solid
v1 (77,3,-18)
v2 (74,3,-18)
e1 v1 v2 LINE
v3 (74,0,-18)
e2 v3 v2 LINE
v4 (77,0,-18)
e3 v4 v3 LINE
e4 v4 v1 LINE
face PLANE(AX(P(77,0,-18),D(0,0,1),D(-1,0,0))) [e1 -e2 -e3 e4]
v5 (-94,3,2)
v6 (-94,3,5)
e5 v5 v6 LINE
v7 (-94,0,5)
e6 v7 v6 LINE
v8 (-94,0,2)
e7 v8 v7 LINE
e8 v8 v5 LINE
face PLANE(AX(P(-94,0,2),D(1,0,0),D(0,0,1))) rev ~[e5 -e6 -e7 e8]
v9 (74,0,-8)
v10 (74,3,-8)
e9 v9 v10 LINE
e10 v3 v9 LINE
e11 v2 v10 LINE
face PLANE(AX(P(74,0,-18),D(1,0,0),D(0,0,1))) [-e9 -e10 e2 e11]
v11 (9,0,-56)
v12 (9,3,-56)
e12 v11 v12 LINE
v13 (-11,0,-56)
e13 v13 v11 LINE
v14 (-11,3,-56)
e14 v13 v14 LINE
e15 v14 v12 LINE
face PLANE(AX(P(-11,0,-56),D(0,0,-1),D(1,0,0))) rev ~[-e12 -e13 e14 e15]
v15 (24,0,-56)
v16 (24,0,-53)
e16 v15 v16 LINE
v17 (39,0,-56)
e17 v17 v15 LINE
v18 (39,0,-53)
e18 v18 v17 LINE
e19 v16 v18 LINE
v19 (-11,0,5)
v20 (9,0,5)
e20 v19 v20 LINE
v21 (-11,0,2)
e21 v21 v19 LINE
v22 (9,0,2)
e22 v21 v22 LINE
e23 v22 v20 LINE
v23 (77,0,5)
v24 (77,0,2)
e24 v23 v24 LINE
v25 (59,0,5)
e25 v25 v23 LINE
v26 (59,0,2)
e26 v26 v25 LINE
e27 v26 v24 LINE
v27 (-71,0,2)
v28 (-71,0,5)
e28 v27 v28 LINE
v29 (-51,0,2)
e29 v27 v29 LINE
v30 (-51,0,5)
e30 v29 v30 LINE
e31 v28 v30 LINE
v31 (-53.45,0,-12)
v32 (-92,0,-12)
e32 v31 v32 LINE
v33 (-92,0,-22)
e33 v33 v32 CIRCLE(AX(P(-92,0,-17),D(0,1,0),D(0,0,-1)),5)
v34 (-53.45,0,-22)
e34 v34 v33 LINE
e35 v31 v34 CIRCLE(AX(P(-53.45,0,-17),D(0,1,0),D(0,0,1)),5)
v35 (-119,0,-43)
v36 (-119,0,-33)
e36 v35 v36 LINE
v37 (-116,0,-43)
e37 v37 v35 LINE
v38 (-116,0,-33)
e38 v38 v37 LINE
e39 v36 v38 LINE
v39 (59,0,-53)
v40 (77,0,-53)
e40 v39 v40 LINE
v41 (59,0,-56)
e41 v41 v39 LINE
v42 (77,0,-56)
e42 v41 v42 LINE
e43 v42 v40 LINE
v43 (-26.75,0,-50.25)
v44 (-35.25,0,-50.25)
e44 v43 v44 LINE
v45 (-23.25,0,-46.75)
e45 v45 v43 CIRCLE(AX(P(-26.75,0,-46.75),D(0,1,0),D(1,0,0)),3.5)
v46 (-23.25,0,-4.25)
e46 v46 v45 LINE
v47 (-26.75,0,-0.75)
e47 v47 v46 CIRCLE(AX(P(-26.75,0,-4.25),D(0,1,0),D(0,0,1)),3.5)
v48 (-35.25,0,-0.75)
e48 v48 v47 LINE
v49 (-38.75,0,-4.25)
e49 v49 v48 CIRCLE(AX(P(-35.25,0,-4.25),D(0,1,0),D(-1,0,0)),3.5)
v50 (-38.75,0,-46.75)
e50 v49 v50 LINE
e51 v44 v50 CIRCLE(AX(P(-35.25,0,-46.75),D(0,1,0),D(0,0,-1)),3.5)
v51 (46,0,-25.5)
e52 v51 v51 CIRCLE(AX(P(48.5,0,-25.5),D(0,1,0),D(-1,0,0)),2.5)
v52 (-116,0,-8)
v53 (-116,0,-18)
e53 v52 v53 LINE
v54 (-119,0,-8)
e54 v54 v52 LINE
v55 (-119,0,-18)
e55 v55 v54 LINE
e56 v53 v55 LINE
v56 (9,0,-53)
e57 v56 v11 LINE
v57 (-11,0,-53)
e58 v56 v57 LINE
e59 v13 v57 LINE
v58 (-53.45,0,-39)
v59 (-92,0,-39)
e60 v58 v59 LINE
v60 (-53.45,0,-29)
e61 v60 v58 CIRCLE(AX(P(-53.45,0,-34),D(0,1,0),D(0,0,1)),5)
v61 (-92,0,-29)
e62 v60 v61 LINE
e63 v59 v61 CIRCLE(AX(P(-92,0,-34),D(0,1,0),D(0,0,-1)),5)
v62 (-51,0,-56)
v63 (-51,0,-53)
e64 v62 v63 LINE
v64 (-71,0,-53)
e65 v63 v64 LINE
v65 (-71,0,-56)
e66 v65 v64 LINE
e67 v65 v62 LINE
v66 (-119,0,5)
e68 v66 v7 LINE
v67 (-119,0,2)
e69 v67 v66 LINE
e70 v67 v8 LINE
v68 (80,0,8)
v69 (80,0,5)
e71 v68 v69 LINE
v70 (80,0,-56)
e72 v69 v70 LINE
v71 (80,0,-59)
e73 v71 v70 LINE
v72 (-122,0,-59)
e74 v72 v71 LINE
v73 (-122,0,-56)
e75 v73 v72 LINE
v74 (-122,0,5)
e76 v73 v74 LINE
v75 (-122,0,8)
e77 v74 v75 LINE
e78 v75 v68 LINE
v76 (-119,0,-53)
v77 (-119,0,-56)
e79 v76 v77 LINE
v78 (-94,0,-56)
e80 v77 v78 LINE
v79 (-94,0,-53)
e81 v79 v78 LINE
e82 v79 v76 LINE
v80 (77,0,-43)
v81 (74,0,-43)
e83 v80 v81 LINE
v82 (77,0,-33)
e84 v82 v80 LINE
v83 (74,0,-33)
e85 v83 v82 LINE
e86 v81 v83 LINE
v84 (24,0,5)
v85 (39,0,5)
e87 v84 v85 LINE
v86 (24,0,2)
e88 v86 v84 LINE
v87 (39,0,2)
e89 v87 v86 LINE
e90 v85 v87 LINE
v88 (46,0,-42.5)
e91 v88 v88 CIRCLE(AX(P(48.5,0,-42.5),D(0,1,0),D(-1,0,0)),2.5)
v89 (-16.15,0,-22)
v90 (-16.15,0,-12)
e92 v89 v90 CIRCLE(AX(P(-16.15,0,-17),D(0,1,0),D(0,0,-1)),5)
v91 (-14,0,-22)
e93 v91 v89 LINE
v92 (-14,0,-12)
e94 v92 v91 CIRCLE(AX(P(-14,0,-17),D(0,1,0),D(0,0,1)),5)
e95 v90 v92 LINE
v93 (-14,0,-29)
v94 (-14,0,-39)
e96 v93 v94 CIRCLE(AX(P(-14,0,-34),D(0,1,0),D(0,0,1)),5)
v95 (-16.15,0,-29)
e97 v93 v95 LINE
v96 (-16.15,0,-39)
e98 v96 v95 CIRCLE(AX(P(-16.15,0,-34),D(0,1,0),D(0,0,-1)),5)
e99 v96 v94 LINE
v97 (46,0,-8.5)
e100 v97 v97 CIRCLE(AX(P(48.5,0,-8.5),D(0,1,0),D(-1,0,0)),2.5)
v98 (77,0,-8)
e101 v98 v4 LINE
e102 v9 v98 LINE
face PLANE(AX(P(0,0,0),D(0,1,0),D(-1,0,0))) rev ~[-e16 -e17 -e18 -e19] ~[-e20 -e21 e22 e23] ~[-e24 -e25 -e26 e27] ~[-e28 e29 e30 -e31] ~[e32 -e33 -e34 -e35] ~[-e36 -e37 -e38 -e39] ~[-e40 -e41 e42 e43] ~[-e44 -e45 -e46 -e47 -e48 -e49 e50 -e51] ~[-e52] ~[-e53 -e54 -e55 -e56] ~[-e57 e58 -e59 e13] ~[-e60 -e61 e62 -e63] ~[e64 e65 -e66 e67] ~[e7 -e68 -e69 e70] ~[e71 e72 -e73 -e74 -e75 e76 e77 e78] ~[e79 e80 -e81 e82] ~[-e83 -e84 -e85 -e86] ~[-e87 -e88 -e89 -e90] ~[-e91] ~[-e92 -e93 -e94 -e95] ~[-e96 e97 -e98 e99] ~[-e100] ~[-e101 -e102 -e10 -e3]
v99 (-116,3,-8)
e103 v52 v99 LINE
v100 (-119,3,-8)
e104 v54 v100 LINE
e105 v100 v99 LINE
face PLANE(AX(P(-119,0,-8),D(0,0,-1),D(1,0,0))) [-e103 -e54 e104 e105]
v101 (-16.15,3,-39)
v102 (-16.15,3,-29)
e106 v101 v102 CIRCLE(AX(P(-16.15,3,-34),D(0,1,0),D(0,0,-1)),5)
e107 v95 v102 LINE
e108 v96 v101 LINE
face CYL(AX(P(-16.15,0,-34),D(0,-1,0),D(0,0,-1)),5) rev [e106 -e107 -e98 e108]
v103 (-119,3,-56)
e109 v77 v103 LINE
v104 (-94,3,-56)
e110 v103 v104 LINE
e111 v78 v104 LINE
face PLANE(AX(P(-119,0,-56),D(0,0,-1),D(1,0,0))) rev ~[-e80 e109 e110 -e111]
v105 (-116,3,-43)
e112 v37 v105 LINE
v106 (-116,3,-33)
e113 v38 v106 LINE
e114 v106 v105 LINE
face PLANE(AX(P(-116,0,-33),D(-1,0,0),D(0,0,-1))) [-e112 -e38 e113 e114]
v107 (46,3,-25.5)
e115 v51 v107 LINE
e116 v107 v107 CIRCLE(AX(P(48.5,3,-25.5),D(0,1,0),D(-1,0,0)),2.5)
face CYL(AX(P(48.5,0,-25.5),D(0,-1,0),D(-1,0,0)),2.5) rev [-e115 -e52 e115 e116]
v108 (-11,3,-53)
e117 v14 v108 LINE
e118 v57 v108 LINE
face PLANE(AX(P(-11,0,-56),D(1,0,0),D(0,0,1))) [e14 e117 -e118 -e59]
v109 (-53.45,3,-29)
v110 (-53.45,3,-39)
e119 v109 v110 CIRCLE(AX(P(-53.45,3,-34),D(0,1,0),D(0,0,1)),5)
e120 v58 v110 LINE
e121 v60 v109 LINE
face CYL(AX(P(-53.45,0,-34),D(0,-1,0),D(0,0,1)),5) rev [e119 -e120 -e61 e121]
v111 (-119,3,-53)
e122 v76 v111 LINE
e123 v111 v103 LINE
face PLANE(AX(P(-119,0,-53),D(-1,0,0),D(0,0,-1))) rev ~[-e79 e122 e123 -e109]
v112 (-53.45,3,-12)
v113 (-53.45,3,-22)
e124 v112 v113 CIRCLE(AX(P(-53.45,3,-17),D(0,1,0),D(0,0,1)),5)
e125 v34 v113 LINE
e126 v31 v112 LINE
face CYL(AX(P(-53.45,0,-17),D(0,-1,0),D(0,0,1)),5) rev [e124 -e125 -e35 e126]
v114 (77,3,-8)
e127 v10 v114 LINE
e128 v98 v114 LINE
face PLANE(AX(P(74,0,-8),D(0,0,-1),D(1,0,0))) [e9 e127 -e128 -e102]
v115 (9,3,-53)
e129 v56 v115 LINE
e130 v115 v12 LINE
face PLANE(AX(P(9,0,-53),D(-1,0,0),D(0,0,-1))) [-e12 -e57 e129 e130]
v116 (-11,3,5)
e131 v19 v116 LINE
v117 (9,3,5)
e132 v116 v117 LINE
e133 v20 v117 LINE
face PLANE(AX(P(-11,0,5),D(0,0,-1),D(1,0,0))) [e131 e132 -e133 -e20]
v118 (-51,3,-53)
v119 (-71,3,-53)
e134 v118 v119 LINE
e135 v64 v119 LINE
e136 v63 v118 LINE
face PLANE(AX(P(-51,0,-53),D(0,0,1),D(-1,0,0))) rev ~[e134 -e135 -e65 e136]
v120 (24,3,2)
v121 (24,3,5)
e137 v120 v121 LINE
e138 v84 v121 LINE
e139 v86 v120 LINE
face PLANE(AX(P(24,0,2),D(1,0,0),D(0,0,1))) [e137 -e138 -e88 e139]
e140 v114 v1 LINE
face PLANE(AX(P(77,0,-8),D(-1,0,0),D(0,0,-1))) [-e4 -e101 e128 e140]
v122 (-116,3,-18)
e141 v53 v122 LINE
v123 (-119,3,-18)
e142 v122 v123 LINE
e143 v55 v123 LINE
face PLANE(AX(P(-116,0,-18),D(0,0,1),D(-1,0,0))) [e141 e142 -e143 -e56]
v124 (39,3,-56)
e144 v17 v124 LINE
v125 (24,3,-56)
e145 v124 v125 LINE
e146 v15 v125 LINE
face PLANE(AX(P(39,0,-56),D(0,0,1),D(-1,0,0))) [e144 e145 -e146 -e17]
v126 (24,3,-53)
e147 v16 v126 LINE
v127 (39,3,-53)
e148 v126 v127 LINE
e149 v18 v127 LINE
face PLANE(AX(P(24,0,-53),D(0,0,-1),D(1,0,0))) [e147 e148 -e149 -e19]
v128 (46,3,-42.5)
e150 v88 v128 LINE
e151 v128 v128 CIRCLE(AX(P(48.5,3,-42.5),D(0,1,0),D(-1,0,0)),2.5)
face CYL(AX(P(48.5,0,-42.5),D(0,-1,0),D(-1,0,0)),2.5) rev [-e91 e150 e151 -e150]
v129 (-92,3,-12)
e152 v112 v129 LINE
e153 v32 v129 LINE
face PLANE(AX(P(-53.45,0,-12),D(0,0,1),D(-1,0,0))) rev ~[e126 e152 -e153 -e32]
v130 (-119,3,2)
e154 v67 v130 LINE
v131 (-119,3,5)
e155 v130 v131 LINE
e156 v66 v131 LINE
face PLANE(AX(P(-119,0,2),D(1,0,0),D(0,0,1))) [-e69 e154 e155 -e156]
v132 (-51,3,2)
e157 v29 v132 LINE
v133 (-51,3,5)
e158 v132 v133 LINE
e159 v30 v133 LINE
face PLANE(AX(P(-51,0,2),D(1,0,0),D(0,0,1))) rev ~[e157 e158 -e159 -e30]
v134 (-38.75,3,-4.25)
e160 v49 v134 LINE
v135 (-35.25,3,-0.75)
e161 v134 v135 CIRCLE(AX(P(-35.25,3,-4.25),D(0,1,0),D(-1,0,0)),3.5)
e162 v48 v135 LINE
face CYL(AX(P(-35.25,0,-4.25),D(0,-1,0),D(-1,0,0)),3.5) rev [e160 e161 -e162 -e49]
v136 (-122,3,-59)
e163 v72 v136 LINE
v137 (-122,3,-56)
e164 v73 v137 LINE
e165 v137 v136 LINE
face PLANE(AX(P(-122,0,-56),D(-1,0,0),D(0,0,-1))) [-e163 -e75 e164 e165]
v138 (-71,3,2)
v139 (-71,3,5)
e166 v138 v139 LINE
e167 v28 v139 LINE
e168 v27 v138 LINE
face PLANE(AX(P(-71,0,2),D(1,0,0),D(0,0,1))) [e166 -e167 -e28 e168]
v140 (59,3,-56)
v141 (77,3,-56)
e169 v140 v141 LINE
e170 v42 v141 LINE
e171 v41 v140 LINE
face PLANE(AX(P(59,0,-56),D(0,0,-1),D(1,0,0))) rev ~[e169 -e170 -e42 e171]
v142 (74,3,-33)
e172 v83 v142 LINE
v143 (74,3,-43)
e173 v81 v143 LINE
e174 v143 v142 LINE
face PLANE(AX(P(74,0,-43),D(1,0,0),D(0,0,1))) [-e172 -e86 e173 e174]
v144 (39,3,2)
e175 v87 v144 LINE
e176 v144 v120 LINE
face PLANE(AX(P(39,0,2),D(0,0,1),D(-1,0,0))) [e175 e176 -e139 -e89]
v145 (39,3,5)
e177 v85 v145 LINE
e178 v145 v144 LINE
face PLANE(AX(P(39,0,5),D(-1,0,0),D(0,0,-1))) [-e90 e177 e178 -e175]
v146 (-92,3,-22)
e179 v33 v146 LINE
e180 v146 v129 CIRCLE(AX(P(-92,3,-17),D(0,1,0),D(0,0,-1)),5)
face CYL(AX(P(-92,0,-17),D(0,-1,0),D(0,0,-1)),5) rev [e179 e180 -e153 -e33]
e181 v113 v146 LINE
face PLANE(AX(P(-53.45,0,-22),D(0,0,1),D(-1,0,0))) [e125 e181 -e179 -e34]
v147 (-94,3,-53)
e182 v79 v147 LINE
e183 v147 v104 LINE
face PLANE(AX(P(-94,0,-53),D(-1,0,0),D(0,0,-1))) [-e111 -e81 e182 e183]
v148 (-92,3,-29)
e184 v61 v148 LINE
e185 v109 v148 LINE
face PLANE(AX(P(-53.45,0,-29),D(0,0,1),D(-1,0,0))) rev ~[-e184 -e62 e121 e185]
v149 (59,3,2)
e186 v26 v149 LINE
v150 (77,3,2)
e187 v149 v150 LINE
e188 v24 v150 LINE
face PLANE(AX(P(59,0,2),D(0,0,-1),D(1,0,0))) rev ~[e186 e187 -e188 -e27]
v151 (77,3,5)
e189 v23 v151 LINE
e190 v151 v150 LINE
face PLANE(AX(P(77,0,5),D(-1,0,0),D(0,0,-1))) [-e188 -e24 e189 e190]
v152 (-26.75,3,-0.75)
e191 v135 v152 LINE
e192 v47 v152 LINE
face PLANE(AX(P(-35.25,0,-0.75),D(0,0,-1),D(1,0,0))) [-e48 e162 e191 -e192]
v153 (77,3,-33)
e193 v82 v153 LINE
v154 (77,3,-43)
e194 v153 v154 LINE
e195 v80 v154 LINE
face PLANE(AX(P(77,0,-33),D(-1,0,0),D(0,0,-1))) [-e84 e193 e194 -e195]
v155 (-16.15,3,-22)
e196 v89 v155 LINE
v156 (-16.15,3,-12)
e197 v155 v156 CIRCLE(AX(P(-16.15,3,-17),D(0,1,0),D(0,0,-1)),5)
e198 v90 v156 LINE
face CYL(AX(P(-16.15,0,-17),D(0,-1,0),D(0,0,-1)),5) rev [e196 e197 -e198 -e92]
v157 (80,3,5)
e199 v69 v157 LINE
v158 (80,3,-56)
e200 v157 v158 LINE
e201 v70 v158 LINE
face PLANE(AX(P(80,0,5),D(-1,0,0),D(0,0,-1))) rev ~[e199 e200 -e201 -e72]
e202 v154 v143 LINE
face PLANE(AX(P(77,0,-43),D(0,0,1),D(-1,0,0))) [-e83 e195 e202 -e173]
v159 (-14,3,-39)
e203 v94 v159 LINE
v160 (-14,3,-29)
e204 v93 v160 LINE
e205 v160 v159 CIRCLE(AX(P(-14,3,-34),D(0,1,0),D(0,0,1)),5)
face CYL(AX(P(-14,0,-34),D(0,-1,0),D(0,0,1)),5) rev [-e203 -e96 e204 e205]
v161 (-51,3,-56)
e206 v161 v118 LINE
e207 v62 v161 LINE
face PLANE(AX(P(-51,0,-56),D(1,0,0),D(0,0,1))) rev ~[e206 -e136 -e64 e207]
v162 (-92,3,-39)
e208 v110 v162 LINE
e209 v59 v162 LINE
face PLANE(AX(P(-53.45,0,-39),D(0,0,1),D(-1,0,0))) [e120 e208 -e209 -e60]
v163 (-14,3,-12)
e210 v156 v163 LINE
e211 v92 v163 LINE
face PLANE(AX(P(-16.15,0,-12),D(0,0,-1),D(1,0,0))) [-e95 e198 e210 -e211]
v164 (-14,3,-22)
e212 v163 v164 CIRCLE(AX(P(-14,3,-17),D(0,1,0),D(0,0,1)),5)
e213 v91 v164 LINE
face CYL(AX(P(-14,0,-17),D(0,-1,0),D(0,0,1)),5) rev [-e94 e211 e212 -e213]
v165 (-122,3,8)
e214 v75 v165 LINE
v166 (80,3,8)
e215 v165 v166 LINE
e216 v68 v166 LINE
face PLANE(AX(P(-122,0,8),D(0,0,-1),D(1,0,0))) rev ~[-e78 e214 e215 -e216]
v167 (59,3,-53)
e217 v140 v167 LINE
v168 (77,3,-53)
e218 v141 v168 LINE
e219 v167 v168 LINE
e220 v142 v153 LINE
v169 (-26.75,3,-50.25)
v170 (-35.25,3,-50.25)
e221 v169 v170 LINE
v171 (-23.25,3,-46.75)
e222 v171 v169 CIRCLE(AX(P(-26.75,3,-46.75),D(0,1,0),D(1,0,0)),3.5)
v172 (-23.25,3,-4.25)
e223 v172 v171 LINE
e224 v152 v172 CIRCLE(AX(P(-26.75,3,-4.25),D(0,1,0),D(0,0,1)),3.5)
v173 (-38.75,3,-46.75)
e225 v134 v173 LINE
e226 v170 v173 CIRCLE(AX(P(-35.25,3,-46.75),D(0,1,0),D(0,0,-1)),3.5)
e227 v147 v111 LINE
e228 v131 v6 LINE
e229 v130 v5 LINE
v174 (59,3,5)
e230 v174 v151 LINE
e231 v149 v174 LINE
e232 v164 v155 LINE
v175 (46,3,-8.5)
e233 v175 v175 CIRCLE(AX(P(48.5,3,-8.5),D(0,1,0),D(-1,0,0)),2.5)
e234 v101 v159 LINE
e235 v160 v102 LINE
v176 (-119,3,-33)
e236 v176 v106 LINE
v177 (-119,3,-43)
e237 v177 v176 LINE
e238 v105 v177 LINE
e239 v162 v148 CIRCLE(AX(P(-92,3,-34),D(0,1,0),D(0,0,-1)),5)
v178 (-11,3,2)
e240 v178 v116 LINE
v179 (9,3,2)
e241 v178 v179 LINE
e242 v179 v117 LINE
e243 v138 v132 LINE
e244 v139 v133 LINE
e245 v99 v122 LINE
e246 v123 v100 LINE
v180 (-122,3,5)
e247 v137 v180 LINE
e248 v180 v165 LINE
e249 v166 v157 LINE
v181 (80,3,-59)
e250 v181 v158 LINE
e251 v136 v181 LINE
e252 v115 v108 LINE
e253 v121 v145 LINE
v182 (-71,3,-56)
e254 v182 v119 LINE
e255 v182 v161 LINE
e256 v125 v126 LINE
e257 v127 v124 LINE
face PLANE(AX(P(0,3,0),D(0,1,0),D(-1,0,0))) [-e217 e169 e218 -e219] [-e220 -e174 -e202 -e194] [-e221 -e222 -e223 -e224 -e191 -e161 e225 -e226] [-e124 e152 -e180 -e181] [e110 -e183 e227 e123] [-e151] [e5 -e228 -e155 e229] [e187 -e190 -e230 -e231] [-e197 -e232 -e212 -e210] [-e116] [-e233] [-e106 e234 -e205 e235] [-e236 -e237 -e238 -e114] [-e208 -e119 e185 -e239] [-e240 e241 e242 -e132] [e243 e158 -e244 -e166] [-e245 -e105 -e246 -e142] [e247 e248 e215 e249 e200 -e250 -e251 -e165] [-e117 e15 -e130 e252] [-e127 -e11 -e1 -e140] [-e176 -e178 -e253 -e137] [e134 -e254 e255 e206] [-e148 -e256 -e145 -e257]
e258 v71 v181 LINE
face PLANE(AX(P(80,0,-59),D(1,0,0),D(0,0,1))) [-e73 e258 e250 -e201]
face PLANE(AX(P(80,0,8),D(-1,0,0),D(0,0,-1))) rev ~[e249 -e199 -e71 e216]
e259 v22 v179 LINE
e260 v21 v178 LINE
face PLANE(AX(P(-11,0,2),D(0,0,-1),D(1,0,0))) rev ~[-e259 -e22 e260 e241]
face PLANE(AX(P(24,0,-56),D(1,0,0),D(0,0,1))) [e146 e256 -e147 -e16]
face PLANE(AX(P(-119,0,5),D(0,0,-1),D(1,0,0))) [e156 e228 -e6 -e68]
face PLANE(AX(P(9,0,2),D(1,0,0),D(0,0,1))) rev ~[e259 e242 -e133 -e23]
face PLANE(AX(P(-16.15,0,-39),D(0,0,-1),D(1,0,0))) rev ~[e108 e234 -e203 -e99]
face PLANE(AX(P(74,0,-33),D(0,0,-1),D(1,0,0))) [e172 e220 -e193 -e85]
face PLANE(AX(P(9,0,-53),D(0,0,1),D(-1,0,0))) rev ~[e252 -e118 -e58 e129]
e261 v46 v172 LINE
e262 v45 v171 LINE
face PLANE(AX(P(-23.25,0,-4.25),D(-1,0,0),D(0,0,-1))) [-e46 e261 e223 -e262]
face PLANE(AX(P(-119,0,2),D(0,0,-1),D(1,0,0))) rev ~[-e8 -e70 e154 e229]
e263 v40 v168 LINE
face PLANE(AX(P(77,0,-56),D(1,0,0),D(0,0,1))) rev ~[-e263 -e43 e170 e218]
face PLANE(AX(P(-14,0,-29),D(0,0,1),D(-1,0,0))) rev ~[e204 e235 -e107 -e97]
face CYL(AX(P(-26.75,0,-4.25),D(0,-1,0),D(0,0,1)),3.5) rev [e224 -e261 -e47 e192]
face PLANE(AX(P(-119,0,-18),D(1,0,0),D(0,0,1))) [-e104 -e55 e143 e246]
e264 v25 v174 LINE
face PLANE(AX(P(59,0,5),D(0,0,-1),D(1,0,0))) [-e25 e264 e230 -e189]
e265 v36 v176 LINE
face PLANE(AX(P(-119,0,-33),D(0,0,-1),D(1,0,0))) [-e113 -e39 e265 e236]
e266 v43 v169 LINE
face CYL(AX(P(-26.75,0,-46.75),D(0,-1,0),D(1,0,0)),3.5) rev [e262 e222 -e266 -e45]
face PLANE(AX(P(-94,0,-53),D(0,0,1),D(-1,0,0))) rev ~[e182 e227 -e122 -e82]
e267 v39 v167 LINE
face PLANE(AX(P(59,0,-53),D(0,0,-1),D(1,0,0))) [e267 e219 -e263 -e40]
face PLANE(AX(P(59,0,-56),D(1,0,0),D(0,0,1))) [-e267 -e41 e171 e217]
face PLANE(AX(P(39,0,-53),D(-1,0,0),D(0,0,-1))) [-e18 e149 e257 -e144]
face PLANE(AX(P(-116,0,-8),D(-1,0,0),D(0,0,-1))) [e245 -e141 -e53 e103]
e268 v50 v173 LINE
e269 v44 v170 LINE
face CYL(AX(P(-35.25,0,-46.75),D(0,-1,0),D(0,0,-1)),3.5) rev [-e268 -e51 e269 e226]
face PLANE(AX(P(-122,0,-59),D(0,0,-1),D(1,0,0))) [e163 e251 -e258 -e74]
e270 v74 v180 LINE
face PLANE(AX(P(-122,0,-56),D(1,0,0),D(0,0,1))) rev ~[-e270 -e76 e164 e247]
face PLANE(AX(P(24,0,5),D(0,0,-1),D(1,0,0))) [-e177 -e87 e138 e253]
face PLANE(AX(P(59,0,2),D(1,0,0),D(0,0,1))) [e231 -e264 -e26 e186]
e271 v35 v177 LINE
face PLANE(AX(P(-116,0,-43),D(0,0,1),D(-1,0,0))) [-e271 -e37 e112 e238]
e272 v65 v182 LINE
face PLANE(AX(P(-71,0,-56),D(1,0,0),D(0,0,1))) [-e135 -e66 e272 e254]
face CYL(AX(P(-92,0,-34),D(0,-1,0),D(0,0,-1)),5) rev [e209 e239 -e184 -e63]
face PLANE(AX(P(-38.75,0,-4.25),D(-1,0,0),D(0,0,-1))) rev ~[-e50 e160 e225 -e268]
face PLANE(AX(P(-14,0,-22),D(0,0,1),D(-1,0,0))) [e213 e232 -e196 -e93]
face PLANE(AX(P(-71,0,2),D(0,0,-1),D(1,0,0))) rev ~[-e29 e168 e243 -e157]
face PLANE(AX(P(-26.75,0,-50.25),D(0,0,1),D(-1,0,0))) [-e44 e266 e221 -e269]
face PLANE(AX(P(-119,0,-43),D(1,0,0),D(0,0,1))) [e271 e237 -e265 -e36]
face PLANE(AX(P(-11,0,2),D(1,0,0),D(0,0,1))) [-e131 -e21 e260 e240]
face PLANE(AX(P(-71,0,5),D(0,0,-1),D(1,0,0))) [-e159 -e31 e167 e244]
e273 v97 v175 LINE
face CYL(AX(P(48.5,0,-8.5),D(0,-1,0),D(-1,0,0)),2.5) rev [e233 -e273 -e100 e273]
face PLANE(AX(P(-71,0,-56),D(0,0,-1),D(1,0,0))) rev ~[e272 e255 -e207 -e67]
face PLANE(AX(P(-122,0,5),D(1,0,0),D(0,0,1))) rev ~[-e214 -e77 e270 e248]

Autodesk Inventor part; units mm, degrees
ref_plane "YZ Plane" through (0, 0, 0) normal (1, 0, 0) x (0, 1, 0)
ref_plane "XZ Plane" through (0, 0, 0) normal (0, 1, 0) x (-1, 0, 0)
ref_plane "XY Plane" through (0, 0, 0) normal (0, 0, 1) x (1, 0, 0)
sketch "Sketch1" plane through (0, 0, 0) normal (0, 1, 0) x (-1, 0, 0)
  line L0 (37.25, -2.25) -> (24.75, -2.25) construction
  line L1 (24.75, -2.25) -> (24.75, -14.75) construction
  line L2 (24.75, -14.75) -> (37.25, -14.75) construction
  line L3 (37.25, -14.75) -> (37.25, -2.25) construction
  line L4 (56.9183, -8.5) -> (8.3915, -8.5) construction
  line L5 (0, -17) -> (105, -17) construction
  line L6 (0, 0) -> (0, -51) construction
  line L7 (0, -34) -> (105, -34) construction
  line L8 (105, -51) -> (105, 0) construction
  line L9 (31, 19) -> (31, -51) construction
  line L10 (56.8064, -25.5) -> (17, -25.5) construction
  line L11 (24.75, -19.25) -> (24.75, -31.75) construction
  line L12 (37.25, -19.25) -> (24.75, -19.25) construction
  line L13 (37.25, -31.75) -> (37.25, -19.25) construction
  line L14 (24.75, -31.75) -> (37.25, -31.75) construction
  line L15 (24.75, -36.25) -> (24.75, -48.75) construction
  line L16 (37.25, -36.25) -> (24.75, -36.25) construction
  line L17 (37.25, -48.75) -> (37.25, -36.25) construction
  line L18 (24.75, -48.75) -> (37.25, -48.75) construction
  line L19 (56.3008, -42.5) -> (16.5498, -42.5) construction
  arc A0 (53.45, -12) -> (53.45, -22) centre (53.45, -17) ccw
  arc A1 (92, -22) -> (92, -12) centre (92, -17) ccw
  arc A2 (53.45, -29) -> (53.45, -39) centre (53.45, -34) ccw
  arc A3 (92, -39) -> (92, -29) centre (92, -34) ccw
  line L20 (53.45, -12) -> (92, -12)
  line L21 (53.45, -22) -> (92, -22)
  line L22 (53.45, -29) -> (92, -29)
  line L23 (53.45, -39) -> (92, -39)
  arc A4 (16.15, -39) -> (16.15, -29) centre (16.15, -34) ccw
  line L24 (103.5, -49.5) -> (103.5, -1.5) construction
  line L25 (1.5, -1.5) -> (1.5, -49.5) construction
  arc A5 (14, -29) -> (14, -39) centre (14, -34) ccw
  arc A6 (14, -12) -> (14, -22) centre (14, -17) ccw
  line L26 (16.15, -39) -> (14, -39)
  line L27 (14, -29) -> (16.15, -29)
  line L28 (14, -22) -> (16.15, -22)
  line L29 (16.15, -12) -> (14, -12)
  arc A7 (16.15, -22) -> (16.15, -12) centre (16.15, -17) ccw
  arc A8 (96.5, -51) -> (93, -47.5) centre (93, -51) ccw construction
  arc A9 (53.45, -47.5) -> (49.95, -51) centre (53.45, -51) ccw construction
  arc A10 (97.7697, -49.5) -> (93, -46) centre (93, -51) ccw construction
  line L30 (93, -46) -> (53.45, -46) construction
  line L31 (96.5, -51) -> (105, -51) construction
  line L32 (93, -47.5) -> (53.45, -47.5) construction
  line L33 (105, -49.5) -> (97.7697, -49.5) construction
  arc A11 (53.45, -46) -> (48.6803, -49.5) centre (53.45, -51) ccw construction
  arc A12 (48.6803, -1.5) -> (53.45, -5) centre (53.45, 0) ccw construction
  arc A13 (49.95, 0) -> (53.45, -3.5) centre (53.45, 0) ccw construction
  line L34 (93, -3.5) -> (53.45, -3.5) construction
  line L35 (93, -5) -> (53.45, -5) construction
  line L36 (97.7697, -1.5) -> (105, -1.5) construction
  line L37 (105, 0) -> (96.5, 0) construction
  arc A14 (93, -3.5) -> (96.5, 0) centre (93, 0) ccw construction
  arc A15 (93, -5) -> (97.7697, -1.5) centre (93, 0) ccw construction
  arc A16 (16.65, -51) -> (13.15, -47.5) centre (13.15, -51) ccw construction
  arc A17 (12, -47.5) -> (8.5, -51) centre (12, -51) ccw construction
  line L38 (13.15, -46) -> (12, -46) construction
  line L39 (13.15, -47.5) -> (12, -47.5) construction
  arc A18 (12, -46) -> (7.2303, -49.5) centre (12, -51) ccw construction
  arc A19 (17.9197, -49.5) -> (13.15, -46) centre (13.15, -51) ccw construction
  line L40 (48.6803, -49.5) -> (17.9197, -49.5) construction
  line L41 (7.2303, -49.5) -> (0, -49.5) construction
  line L42 (0, -51) -> (8.5, -51) construction
  line L43 (16.65, -51) -> (49.95, -51) construction
  line L44 (13.15, -5) -> (12, -5) construction
  line L45 (13.15, -3.5) -> (12, -3.5) construction
  arc A20 (8.5, 0) -> (12, -3.5) centre (12, 0) ccw construction
  arc A21 (13.15, -3.5) -> (16.65, 0) centre (13.15, 0) ccw construction
  arc A22 (7.2303, -1.5) -> (12, -5) centre (12, 0) ccw construction
  arc A23 (13.15, -5) -> (17.9197, -1.5) centre (13.15, 0) ccw construction
  line L46 (49.95, 0) -> (16.65, 0) construction
  line L47 (8.5, 0) -> (0, 0) construction
  line L48 (0, -1.5) -> (7.2303, -1.5) construction
  line L49 (17.9197, -1.5) -> (48.6803, -1.5) construction
  arc A24 (38.75, -4.25) -> (35.25, -0.75) centre (35.25, -4.25) ccw
  arc A25 (26.75, -0.75) -> (23.25, -4.25) centre (26.75, -4.25) ccw
  arc A26 (35.25, -50.25) -> (38.75, -46.75) centre (35.25, -46.75) ccw
  arc A27 (23.25, -46.75) -> (26.75, -50.25) centre (26.75, -46.75) ccw
  line L50 (38.75, -4.25) -> (38.75, -46.75)
  line L51 (35.25, -0.75) -> (26.75, -0.75)
  line L52 (23.25, -4.25) -> (23.25, -46.75)
  line L53 (26.75, -50.25) -> (35.25, -50.25)
  line L54 (119, -53) -> (119, -56)
  line L55 (-77, -56) -> (-77, -53)
  line L56 (119, 2) -> (119, 5)
  line L57 (-77, 5) -> (-77, 2)
  line L58 (51, -56) -> (51, -53)
  line L59 (11, -56) -> (11, -53)
  line L60 (71, -56) -> (71, -53)
  line L61 (94, -53) -> (94, -56)
  line L62 (-9, -53) -> (-9, -56)
  line L63 (-59, -56) -> (-59, -53)
  line L64 (94, 2) -> (94, 5)
  line L65 (71, 2) -> (71, 5)
  line L66 (51, 2) -> (51, 5)
  line L67 (11, 2) -> (11, 5)
  line L68 (-9, 2) -> (-9, 5)
  line L69 (-59, 2) -> (-59, 5)
  line L70 (122, -56) -> (122, 5)
  line L71 (-80, 5) -> (-80, -56)
  line L72 (122, -56) -> (122, -59)
  line L73 (122, -59) -> (-80, -59)
  line L74 (-80, -59) -> (-80, -56)
  line L75 (122, 5) -> (122, 8)
  line L76 (122, 8) -> (-80, 8)
  line L77 (-80, 8) -> (-80, 5)
  line L78 (119, -56) -> (94, -56)
  line L79 (71, -56) -> (51, -56)
  line L80 (11, -56) -> (-9, -56)
  line L81 (-59, -56) -> (-77, -56)
  line L82 (-59, -53) -> (-77, -53)
  line L83 (-9, -53) -> (11, -53)
  line L84 (51, -53) -> (71, -53)
  line L85 (94, -53) -> (119, -53)
  line L86 (119, 5) -> (94, 5)
  line L87 (119, 2) -> (94, 2)
  line L88 (71, 2) -> (51, 2)
  line L89 (71, 5) -> (51, 5)
  line L90 (11, 2) -> (-9, 2)
  line L91 (11, 5) -> (-9, 5)
  line L92 (-59, 2) -> (-77, 2)
  line L93 (-59, 5) -> (-77, 5)
  line L94 (-24, -53) -> (-39, -53)
  line L95 (-39, -53) -> (-39, -56)
  line L96 (-39, -56) -> (-24, -56)
  line L97 (-24, -56) -> (-24, -53)
  line L98 (-24, 5) -> (-39, 5)
  line L99 (-39, 5) -> (-39, 2)
  line L100 (-39, 2) -> (-24, 2)
  line L101 (-24, 2) -> (-24, 5)
  line L102 (-74, -8) -> (-77, -8)
  line L103 (-77, -8) -> (-77, -18)
  line L104 (-77, -18) -> (-74, -18)
  line L105 (-74, -18) -> (-74, -8)
  line L106 (-74, -33) -> (-77, -33)
  line L107 (-77, -33) -> (-77, -43)
  line L108 (-77, -43) -> (-74, -43)
  line L109 (-74, -43) -> (-74, -33)
  line L110 (119, -8) -> (116, -8)
  line L111 (116, -8) -> (116, -18)
  line L112 (116, -18) -> (119, -18)
  line L113 (119, -18) -> (119, -8)
  line L114 (119, -33) -> (116, -33)
  line L115 (116, -33) -> (116, -43)
  line L116 (116, -43) -> (119, -43)
  line L117 (119, -43) -> (119, -33)
  line L118 (-74, 2) -> (-67, 2) construction
  line L119 (-74, -18) -> (-76.75, -18) construction
  line L120 (-76.75, -33) -> (-74, -33) construction
  circle A28 centre (-48.5, -42.5) radius 2.5
  circle A29 centre (-48.5, -25.5) radius 2.5
  circle A30 centre (-48.5, -8.5) radius 2.5
  point P0 (31, -8.5)
  point P1 (31, -42.5)
  point P2 (31, -25.5)
  point P3 (-74, -53)
  point P4 (-74, -53)
  point P5 (-74, -53)
  point P6 (-74, -53)
  dimension "d0" = 12.5
  dimension "d1" = 12.5
  dimension "d2" = 17
  dimension "d3" = 31
  dimension "d4" = 105
  dimension "d5" = 17
  dimension "d6" = 17
  dimension "d7" = 10
  dimension "d8" = 1.5
  dimension "d9" = 1.5
  dimension "d10" = 5
  dimension "d11" = 1.5
  dimension "d12" = 1.5
  dimension "d13" = 1.5
  dimension "d14" = 17
  dimension "d15" = 17
  dimension "d16" = 12
  dimension "d17" = 13
  dimension "d19" = 11.6
  dimension "d20" = 8.6
  dimension "d21" = 12
  dimension "d28" = 2
  dimension "d29" = 2
  dimension "d30" = 7
  dimension "d31" = 2
  dimension "d32" = 2
  dimension "d38" = 40
  dimension "d39" = 20
  dimension "d40" = 23
  dimension "d42" = 20
  dimension "d46" = 202
  dimension "d55" = 3
  dimension "d56" = 3
  dimension "d60" = 18
  dimension "d61" = 15
  dimension "d62" = 15
  dimension "d63" = 20
  dimension "d64" = 14
  dimension "d65" = 22.45
  dimension "d66" = 10.5
  dimension "d67" = 2
  dimension "d73" = 25
  dimension "d74" = 3
  dimension "d78" = 3
  dimension "d79" = 3
  dimension "d80" = 15
  dimension "d81" = 10
  dimension "d92" = 2.75
  dimension "d100" = 17
  dimension "d105" = 20
  dimension "d107" = 15
  dimension "d109" = 5
  dimension "d110" = 31.5
  dimension "d111" = 16.5
  dimension "d112" = 17
extrude "Extrusion2" add sketch "Sketch1" along normal blind 3
properties part number "Top_plate2"
